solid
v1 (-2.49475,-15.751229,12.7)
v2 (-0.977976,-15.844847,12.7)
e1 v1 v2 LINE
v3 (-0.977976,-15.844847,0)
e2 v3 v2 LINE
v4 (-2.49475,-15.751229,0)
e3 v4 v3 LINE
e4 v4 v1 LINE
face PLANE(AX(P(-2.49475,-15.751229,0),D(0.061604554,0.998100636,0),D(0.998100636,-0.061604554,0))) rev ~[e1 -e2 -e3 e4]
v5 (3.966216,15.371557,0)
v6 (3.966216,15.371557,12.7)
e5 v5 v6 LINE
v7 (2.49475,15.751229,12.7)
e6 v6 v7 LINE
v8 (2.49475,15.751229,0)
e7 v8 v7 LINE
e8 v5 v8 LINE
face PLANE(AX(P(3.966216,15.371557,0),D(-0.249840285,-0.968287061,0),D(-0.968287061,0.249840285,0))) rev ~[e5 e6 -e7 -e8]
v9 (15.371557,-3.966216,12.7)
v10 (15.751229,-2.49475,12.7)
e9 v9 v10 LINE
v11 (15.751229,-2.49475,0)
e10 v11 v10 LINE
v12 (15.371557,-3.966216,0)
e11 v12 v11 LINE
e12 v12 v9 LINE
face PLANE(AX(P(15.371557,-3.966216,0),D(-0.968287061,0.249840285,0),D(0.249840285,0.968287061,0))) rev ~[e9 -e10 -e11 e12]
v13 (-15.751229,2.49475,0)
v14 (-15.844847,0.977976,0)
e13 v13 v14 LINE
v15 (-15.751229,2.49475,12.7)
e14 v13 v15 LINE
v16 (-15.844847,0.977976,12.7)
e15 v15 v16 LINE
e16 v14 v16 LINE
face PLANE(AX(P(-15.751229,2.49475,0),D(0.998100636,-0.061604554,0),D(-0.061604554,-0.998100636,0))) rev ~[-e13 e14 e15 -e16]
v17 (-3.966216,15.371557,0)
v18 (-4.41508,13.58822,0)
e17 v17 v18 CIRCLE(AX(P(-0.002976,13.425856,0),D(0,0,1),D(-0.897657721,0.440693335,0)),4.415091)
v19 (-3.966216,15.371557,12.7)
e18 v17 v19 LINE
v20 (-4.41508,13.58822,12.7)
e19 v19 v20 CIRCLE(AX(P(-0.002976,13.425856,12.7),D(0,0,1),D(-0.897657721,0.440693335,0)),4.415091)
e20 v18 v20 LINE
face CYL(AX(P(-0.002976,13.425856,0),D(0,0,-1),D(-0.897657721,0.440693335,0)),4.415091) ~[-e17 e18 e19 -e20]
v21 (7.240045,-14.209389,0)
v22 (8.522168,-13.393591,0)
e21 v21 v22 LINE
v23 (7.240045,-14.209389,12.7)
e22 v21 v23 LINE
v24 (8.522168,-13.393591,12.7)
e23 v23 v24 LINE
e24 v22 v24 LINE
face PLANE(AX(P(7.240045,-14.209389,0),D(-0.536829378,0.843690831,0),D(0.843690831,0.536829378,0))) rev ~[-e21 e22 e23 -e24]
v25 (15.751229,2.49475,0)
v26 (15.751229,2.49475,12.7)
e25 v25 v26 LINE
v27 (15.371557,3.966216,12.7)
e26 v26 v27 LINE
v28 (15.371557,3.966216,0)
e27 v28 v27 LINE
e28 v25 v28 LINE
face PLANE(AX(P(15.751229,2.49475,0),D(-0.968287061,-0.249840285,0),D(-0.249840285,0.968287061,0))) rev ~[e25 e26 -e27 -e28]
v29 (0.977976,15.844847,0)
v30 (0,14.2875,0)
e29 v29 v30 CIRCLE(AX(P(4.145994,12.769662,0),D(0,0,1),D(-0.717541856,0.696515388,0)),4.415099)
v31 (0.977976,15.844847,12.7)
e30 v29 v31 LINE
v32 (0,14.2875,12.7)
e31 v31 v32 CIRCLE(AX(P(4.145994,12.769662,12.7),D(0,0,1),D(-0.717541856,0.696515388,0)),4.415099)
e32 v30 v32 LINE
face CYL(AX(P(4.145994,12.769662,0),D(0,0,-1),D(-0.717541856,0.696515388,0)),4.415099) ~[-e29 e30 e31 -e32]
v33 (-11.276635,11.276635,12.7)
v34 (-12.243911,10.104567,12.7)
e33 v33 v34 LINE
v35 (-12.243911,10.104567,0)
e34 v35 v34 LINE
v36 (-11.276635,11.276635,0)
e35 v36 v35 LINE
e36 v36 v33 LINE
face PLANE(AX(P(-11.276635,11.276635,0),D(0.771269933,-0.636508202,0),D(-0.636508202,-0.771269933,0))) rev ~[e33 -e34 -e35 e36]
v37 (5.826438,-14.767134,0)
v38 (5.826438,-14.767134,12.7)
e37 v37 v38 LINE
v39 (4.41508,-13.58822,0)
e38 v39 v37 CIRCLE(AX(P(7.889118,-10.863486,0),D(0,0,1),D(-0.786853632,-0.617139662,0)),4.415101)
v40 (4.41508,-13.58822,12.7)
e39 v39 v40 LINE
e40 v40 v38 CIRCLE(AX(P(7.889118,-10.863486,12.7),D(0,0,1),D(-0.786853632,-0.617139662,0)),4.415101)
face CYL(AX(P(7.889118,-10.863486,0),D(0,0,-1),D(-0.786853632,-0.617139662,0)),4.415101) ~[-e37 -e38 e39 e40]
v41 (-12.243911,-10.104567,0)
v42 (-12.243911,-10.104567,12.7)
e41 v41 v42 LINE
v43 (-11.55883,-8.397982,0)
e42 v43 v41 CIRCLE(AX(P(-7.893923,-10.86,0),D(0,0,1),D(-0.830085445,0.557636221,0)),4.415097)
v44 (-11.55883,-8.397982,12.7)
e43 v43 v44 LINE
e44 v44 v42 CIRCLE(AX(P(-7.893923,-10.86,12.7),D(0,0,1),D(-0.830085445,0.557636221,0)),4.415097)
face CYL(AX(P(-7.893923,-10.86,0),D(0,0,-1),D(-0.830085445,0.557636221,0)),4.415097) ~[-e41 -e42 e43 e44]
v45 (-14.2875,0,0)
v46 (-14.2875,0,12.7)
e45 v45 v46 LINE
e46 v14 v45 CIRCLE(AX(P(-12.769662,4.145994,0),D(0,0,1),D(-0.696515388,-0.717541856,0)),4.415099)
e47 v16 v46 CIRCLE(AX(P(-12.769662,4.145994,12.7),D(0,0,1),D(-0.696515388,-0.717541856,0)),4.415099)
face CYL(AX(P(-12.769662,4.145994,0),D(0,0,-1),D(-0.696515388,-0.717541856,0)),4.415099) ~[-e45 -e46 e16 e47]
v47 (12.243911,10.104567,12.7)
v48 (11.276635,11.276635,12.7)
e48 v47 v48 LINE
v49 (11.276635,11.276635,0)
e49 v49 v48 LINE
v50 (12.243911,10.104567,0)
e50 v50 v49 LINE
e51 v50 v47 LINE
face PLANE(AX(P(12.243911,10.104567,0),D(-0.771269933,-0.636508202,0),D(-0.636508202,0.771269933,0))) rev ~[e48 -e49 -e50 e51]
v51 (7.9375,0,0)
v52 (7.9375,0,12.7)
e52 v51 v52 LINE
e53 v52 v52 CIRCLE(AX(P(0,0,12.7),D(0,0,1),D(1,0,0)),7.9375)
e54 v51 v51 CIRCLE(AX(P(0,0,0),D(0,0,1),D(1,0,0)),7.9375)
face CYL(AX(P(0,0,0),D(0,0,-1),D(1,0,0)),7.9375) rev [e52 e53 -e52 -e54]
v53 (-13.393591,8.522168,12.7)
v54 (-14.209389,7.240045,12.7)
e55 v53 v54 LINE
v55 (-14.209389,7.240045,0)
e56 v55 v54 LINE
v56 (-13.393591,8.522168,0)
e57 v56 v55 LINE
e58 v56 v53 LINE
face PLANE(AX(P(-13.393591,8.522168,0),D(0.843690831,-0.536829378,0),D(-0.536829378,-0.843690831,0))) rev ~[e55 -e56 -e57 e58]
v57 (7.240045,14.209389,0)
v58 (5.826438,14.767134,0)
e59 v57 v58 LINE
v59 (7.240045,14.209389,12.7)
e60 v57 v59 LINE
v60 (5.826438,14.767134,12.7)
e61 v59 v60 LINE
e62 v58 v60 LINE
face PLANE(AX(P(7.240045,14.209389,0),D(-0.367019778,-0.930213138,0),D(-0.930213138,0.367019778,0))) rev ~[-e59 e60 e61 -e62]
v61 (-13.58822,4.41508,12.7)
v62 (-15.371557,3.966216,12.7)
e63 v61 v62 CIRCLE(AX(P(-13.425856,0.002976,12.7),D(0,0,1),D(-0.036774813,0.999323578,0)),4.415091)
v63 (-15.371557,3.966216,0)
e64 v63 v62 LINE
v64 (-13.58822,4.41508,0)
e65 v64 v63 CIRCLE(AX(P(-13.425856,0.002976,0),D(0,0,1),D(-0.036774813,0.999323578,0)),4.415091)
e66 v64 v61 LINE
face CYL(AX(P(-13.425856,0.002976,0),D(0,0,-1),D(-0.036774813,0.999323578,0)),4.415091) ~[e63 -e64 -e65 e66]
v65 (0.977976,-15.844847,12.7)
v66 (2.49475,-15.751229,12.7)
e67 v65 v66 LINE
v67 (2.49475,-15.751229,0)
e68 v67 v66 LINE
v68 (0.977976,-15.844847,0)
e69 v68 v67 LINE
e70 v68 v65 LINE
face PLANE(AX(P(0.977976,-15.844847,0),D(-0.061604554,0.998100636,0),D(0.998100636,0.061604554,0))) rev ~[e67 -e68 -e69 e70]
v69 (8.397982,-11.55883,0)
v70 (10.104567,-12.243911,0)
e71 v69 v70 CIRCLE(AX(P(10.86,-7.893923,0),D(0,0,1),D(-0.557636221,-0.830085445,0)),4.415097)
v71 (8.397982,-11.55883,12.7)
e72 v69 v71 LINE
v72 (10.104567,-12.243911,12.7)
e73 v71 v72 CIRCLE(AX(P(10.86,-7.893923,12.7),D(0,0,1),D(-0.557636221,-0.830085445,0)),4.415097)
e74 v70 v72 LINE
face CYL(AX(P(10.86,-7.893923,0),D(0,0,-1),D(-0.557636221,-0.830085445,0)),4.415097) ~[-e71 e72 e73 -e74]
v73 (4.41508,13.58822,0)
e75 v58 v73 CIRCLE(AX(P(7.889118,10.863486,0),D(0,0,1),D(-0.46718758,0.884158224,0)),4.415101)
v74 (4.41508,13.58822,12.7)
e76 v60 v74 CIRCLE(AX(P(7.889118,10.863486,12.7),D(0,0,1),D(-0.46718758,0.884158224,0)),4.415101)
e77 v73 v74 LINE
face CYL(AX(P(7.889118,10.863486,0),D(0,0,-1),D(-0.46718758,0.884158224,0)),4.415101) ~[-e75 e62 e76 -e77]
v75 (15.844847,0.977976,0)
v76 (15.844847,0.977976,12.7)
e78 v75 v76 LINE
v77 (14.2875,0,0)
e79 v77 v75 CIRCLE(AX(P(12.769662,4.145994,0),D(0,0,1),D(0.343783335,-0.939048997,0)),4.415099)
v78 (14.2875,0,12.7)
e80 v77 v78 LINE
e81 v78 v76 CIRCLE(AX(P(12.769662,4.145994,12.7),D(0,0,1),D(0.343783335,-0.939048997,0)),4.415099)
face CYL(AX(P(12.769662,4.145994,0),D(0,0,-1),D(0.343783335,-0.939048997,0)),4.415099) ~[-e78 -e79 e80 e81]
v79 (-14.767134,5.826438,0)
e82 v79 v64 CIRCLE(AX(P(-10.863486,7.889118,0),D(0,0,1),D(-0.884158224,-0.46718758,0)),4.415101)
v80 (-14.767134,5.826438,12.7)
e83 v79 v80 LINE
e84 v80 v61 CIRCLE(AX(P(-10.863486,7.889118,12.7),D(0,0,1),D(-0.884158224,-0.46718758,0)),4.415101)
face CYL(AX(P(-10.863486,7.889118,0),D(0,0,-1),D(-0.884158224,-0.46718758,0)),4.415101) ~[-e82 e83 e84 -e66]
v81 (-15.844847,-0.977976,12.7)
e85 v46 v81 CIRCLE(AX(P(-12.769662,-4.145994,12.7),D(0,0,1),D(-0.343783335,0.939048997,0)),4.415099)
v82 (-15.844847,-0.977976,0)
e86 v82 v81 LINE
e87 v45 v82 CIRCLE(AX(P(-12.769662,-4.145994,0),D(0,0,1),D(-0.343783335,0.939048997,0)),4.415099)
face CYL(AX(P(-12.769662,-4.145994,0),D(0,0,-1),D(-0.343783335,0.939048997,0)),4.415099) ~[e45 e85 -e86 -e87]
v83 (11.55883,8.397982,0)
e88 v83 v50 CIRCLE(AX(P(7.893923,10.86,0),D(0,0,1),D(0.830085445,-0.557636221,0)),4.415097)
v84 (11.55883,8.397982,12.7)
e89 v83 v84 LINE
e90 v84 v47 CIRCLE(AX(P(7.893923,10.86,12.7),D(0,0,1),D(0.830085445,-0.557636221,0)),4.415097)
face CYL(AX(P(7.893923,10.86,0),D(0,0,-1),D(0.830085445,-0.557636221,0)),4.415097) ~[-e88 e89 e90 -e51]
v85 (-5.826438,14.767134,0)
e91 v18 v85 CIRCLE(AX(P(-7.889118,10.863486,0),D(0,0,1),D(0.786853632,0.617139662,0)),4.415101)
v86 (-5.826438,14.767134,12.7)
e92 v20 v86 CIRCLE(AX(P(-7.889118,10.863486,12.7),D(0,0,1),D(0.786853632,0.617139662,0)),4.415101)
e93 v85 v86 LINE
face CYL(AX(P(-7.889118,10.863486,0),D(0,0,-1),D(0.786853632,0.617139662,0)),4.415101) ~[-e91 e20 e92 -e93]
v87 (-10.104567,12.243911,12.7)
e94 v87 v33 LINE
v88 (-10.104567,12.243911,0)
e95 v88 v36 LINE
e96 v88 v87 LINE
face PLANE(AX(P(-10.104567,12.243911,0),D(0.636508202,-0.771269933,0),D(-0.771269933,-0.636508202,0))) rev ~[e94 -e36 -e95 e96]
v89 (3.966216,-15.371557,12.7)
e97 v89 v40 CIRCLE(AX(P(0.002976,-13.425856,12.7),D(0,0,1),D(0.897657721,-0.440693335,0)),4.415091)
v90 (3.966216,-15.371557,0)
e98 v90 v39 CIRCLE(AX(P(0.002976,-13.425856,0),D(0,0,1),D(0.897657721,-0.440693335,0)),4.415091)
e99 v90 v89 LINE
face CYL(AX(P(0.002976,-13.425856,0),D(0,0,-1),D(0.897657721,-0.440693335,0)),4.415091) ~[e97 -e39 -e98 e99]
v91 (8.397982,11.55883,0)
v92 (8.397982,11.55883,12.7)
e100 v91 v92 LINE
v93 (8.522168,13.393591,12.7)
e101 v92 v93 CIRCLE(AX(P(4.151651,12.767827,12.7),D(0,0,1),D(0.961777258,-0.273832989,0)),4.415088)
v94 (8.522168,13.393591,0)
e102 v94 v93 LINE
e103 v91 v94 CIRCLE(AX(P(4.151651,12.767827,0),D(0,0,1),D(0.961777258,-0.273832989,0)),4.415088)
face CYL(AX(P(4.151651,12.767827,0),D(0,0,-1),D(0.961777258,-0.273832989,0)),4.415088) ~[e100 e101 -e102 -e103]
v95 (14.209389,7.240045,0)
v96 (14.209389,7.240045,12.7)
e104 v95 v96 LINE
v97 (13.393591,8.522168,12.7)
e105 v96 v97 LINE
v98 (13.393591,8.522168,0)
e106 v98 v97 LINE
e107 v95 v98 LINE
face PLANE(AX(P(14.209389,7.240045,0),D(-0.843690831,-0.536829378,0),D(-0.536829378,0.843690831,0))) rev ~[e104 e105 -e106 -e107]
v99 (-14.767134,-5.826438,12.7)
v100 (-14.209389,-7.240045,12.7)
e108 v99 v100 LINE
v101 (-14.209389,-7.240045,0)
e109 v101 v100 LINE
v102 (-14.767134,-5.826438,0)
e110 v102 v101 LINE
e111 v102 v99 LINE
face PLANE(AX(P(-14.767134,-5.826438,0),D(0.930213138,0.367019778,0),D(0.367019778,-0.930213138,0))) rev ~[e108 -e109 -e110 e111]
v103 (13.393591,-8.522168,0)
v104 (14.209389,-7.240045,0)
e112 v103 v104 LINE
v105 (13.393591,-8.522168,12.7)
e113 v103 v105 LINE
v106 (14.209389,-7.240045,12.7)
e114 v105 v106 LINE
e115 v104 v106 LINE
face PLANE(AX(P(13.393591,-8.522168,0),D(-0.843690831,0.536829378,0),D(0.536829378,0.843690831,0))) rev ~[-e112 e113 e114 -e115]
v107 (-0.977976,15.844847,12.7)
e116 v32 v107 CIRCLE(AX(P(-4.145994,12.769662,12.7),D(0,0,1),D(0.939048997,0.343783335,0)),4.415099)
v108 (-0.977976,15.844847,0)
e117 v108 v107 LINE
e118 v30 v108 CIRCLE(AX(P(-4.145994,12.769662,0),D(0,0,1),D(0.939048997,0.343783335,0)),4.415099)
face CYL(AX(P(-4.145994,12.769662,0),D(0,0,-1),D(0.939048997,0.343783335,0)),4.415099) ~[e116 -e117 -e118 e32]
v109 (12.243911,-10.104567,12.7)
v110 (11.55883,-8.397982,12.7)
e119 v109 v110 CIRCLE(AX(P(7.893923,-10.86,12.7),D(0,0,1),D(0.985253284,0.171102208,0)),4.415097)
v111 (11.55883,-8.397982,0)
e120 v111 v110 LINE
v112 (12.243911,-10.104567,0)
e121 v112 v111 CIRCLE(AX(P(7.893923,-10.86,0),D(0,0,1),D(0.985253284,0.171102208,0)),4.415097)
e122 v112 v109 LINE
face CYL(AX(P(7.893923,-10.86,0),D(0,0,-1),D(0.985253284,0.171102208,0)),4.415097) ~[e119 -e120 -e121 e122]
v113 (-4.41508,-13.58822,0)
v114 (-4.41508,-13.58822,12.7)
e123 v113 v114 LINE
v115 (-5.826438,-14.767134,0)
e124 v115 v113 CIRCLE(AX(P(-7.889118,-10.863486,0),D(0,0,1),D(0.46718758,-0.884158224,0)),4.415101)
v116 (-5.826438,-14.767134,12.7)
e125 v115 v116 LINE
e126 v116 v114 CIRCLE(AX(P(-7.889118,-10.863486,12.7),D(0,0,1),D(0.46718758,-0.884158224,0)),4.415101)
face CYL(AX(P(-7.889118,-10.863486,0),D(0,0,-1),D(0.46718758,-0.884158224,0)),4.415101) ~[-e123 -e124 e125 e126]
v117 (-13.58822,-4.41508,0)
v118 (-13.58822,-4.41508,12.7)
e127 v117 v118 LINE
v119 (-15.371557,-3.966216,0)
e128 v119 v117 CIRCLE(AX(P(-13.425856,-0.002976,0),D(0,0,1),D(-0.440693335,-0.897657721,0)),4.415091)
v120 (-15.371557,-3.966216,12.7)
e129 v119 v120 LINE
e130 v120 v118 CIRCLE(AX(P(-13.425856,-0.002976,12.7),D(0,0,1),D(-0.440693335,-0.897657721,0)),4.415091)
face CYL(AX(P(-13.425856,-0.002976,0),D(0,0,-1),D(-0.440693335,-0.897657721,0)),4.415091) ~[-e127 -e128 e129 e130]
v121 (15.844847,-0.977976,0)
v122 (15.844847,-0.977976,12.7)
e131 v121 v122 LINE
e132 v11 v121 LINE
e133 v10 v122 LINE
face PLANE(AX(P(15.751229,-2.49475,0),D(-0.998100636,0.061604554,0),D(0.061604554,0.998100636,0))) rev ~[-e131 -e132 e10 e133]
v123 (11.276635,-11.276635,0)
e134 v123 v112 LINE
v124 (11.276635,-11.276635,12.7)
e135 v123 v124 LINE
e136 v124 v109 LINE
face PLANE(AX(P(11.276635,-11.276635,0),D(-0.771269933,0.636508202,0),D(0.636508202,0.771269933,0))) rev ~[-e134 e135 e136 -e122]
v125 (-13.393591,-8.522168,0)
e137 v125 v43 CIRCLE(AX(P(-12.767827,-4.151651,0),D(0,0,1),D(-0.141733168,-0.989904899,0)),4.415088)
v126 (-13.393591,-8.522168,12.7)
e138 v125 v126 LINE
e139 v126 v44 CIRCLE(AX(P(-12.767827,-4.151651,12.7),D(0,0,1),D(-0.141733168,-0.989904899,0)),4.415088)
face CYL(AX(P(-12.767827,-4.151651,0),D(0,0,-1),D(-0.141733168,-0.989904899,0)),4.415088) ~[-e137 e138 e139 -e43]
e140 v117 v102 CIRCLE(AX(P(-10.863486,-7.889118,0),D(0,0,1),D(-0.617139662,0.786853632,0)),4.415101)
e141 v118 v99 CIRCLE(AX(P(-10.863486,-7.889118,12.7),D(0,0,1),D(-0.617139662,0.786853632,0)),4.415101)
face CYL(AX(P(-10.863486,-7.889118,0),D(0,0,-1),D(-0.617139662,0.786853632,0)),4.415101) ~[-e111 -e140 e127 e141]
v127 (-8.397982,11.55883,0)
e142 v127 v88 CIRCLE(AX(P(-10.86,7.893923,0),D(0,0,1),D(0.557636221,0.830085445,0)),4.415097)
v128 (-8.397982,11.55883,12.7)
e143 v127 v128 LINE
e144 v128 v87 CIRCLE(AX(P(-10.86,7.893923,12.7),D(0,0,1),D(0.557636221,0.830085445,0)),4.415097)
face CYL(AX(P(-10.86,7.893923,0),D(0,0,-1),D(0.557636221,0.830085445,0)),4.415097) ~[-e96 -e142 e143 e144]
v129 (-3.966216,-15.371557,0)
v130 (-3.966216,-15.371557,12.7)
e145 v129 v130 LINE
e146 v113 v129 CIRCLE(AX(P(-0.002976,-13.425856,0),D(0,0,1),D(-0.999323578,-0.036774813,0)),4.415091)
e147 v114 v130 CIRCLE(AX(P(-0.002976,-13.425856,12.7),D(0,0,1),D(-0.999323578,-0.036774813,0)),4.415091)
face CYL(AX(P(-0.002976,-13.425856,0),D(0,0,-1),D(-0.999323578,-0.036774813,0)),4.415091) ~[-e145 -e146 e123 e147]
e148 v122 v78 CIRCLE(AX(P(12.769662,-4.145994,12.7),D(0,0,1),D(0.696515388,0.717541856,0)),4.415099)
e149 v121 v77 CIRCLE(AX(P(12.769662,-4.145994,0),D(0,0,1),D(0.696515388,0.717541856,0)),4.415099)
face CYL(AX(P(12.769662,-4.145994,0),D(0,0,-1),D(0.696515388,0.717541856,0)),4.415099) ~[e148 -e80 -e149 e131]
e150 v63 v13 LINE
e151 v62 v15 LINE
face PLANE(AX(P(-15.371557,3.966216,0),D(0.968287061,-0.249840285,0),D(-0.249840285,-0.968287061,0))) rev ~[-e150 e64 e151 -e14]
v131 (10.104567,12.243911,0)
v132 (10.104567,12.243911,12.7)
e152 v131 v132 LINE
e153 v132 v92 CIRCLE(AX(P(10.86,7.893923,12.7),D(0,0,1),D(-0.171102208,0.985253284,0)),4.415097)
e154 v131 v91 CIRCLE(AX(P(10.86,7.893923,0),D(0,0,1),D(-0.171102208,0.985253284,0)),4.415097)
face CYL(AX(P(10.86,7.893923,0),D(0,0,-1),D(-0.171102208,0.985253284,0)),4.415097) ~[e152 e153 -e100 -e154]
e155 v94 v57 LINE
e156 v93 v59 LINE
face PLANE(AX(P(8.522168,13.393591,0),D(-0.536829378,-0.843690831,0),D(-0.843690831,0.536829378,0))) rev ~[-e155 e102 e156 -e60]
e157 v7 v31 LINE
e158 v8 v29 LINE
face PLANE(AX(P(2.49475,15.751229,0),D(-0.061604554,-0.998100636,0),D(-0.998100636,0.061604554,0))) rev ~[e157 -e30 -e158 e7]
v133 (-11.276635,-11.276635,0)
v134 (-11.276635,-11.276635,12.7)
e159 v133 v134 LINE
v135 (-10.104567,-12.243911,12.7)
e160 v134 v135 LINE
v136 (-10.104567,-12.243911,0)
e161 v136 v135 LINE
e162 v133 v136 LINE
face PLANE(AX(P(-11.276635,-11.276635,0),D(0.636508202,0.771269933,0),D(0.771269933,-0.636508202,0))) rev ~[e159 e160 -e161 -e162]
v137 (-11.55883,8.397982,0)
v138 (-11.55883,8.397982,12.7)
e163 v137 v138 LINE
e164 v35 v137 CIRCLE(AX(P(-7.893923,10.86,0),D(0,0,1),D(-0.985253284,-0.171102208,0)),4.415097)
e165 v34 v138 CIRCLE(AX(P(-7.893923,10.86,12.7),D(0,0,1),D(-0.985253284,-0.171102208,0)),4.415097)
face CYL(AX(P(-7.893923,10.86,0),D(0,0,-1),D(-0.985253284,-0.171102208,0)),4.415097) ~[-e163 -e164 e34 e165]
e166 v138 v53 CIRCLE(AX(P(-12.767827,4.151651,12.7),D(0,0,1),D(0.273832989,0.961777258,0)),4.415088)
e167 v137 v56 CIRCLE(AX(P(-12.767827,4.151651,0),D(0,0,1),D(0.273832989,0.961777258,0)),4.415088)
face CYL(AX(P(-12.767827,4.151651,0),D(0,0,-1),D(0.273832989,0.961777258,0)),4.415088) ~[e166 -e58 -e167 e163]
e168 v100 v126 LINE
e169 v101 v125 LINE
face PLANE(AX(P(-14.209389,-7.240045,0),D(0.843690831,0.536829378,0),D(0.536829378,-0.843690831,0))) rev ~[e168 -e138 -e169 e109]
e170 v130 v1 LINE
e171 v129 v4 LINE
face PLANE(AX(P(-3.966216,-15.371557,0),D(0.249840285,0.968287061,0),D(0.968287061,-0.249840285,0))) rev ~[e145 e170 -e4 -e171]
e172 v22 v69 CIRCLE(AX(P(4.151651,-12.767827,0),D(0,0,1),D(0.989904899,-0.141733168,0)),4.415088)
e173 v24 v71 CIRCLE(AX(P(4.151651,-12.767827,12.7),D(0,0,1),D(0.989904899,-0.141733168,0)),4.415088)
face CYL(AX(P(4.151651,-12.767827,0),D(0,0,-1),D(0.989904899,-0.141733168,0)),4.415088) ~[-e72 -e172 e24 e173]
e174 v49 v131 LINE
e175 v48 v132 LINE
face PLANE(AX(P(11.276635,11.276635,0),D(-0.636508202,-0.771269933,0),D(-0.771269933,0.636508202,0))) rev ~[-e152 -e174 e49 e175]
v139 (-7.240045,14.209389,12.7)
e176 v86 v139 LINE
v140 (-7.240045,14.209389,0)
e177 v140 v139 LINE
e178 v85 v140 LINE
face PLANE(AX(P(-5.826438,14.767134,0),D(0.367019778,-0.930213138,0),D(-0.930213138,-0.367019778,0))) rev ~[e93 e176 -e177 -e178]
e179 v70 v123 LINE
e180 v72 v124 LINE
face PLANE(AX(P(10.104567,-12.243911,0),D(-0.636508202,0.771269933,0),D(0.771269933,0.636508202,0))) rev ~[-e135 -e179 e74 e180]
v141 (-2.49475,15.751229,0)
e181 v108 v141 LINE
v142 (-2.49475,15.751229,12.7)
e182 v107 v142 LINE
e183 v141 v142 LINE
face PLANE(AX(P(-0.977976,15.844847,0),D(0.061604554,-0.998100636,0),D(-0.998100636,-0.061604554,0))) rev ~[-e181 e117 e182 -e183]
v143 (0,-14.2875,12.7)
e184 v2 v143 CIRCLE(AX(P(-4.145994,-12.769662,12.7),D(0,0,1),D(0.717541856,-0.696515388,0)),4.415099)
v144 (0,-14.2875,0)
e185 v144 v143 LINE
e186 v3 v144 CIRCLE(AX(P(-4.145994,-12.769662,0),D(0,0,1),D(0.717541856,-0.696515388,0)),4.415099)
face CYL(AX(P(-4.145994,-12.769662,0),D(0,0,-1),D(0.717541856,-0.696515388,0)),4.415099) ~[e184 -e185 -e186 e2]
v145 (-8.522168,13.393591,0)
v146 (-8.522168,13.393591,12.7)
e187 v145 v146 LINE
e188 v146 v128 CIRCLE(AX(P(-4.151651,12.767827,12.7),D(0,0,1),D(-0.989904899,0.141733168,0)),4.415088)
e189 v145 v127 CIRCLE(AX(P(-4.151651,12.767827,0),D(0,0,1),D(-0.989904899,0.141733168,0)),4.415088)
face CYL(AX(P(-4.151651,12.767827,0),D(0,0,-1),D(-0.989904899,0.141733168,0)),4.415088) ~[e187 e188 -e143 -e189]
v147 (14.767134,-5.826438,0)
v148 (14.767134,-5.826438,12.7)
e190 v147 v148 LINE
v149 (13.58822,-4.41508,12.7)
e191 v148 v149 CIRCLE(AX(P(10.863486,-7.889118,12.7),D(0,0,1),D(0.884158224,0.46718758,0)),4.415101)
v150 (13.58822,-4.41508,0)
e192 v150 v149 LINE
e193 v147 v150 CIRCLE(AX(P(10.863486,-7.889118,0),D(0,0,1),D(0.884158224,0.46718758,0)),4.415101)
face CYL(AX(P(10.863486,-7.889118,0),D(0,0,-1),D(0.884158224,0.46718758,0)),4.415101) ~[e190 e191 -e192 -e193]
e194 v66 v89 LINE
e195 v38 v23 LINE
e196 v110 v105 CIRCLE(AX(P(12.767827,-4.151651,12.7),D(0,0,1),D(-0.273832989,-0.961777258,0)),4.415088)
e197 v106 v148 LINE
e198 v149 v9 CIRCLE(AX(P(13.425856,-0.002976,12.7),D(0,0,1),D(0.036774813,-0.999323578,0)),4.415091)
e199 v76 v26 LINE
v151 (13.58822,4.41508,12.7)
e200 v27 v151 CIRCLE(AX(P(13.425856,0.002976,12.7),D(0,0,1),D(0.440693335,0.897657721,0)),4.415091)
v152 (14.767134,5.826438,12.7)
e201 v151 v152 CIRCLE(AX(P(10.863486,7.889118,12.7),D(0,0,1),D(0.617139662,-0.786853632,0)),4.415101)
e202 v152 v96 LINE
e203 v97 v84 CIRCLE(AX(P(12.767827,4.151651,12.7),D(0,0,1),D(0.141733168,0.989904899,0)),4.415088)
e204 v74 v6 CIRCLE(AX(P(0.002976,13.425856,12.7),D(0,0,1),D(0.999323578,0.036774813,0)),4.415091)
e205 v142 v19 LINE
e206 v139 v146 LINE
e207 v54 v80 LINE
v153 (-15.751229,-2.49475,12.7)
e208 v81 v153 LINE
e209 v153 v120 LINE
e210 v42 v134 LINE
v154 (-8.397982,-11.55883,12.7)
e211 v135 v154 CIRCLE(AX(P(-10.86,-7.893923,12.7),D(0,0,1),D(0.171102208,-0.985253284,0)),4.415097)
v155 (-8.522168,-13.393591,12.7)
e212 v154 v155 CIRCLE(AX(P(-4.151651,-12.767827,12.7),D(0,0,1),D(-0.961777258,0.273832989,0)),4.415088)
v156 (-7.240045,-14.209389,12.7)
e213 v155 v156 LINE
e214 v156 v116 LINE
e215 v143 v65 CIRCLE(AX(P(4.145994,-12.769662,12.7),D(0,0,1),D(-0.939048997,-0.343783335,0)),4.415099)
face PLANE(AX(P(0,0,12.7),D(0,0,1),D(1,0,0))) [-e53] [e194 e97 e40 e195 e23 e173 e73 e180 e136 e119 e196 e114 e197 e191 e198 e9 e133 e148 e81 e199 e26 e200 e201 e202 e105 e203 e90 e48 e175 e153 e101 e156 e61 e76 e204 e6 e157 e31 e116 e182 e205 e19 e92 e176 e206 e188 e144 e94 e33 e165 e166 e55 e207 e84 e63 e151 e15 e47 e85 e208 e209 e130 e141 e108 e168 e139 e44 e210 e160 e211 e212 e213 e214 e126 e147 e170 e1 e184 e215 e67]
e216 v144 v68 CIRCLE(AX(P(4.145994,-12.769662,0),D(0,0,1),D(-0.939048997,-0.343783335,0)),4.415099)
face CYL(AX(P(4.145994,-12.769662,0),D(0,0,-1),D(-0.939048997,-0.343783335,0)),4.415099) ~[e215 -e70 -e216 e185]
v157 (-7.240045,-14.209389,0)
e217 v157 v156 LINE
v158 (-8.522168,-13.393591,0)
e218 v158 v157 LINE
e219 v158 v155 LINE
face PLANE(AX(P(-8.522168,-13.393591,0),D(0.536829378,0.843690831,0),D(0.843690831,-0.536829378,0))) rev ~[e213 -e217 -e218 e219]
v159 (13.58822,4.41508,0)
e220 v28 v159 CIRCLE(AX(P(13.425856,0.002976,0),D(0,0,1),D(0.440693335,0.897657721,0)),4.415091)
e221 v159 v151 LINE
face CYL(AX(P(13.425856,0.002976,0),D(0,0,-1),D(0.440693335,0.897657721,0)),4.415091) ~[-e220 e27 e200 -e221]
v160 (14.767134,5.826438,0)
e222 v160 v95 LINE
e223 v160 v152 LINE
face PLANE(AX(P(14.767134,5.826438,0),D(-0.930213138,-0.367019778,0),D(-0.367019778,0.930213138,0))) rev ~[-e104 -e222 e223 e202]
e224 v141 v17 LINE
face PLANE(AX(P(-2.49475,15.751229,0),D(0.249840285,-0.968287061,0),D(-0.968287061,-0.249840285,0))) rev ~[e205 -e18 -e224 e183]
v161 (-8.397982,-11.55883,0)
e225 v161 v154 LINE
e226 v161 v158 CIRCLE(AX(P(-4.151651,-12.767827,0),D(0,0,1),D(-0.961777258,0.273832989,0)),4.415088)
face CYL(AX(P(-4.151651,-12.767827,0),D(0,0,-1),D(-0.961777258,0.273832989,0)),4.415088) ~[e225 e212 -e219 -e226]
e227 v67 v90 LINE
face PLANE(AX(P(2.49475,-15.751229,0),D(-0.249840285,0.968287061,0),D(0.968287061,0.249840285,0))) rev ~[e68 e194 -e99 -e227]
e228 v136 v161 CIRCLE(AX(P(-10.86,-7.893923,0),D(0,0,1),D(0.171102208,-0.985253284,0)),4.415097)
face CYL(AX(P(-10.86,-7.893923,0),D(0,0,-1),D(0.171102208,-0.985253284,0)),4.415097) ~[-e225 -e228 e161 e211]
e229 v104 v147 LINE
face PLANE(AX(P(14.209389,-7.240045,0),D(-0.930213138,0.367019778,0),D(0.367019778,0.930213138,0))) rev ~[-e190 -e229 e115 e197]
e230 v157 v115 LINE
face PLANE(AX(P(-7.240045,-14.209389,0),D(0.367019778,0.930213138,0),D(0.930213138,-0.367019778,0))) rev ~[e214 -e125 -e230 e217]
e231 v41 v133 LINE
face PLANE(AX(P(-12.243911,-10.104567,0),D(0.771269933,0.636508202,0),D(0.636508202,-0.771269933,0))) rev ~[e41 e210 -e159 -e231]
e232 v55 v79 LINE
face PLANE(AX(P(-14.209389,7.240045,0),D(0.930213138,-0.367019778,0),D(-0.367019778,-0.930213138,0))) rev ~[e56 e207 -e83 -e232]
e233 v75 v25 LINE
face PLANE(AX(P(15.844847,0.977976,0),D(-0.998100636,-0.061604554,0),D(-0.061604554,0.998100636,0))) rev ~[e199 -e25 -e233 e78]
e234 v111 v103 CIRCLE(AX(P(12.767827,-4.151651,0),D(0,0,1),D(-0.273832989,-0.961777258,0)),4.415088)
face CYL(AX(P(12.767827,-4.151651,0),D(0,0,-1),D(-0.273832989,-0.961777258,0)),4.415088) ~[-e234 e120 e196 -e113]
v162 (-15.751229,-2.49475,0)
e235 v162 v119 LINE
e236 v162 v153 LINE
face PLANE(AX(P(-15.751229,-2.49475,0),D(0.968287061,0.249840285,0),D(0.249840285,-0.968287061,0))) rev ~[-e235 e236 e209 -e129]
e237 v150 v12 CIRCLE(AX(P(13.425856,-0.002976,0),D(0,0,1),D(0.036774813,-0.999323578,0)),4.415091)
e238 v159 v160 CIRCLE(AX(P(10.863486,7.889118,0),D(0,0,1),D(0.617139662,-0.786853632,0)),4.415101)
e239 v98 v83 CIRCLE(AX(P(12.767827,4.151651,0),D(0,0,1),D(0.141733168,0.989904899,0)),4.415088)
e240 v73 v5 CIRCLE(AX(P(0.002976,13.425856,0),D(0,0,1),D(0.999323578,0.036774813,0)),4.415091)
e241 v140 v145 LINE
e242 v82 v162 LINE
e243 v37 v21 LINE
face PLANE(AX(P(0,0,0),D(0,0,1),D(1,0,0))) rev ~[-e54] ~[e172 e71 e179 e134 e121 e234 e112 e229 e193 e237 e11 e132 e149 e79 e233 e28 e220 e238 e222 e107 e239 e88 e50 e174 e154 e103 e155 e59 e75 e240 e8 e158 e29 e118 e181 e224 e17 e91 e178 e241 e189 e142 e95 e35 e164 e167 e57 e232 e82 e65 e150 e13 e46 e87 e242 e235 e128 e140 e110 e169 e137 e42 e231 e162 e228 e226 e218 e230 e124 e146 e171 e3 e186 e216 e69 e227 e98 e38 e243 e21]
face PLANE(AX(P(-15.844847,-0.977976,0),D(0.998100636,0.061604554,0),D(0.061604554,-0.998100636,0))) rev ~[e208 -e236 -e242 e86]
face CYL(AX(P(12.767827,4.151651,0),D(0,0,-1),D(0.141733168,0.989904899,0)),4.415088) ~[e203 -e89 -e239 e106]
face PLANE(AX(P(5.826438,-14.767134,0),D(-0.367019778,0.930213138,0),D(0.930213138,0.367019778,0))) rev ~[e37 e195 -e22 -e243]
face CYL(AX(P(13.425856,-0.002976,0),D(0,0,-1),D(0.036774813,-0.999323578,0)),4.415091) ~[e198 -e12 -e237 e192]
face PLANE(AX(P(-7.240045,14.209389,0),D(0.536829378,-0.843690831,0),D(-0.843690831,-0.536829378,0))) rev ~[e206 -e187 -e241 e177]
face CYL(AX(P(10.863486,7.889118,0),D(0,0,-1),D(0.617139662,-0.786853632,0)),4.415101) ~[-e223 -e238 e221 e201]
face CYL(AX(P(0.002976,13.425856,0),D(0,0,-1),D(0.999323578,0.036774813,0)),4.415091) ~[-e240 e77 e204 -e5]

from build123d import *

# Parameters (mm, degrees)
F0_R     = 7.9375
F1_DEPTH = 12.7


with BuildPart() as f1:
    # F0 (on Top) → F1 (new body)
    with BuildSketch(Plane.XY):
        with BuildLine():
            ThreePointArc((0.977976, 15.844847), (0.407007, 15.117656), (0, 14.2875))
            ThreePointArc((0, 14.2875), (-0.407007, 15.117656), (-0.977976, 15.844847))
            Line((-0.977976, 15.844847), (-2.49475, 15.751229))
            Line((-2.49475, 15.751229), (-3.966216, 15.371557))
            ThreePointArc((-3.966216, 15.371557), (-4.284526, 14.503517), (-4.41508, 13.58822))
            ThreePointArc((-4.41508, 13.58822), (-5.058699, 14.251973), (-5.826438, 14.767134))
            Line((-5.826438, 14.767134), (-7.240045, 14.209389))
            Line((-7.240045, 14.209389), (-8.522168, 13.393591))
            ThreePointArc((-8.522168, 13.393591), (-8.55666, 12.469673), (-8.397982, 11.55883))
            ThreePointArc((-8.397982, 11.55883), (-9.215211, 11.991208), (-10.104567, 12.243911))
            Line((-10.104567, 12.243911), (-11.276635, 11.276635))
            Line((-11.276635, 11.276635), (-12.243911, 10.104567))
            ThreePointArc((-12.243911, 10.104567), (-11.991208, 9.215211), (-11.55883, 8.397982))
            ThreePointArc((-11.55883, 8.397982), (-12.469673, 8.55666), (-13.393591, 8.522168))
            Line((-13.393591, 8.522168), (-14.209389, 7.240045))
            Line((-14.209389, 7.240045), (-14.767134, 5.826438))
            ThreePointArc((-14.767134, 5.826438), (-14.251973, 5.058699), (-13.58822, 4.41508))
            ThreePointArc((-13.58822, 4.41508), (-14.503517, 4.284526), (-15.371557, 3.966216))
            Line((-15.371557, 3.966216), (-15.751229, 2.49475))
            Line((-15.751229, 2.49475), (-15.844847, 0.977976))
            ThreePointArc((-15.844847, 0.977976), (-15.117656, 0.407007), (-14.2875, 0))
            ThreePointArc((-14.2875, 0), (-15.117656, -0.407007), (-15.844847, -0.977976))
            Line((-15.844847, -0.977976), (-15.751229, -2.49475))
            Line((-15.751229, -2.49475), (-15.371557, -3.966216))
            ThreePointArc((-15.371557, -3.966216), (-14.503517, -4.284526), (-13.58822, -4.41508))
            ThreePointArc((-13.58822, -4.41508), (-14.251973, -5.058699), (-14.767134, -5.826438))
            Line((-14.767134, -5.826438), (-14.209389, -7.240045))
            Line((-14.209389, -7.240045), (-13.393591, -8.522168))
            ThreePointArc((-13.393591, -8.522168), (-12.469673, -8.55666), (-11.55883, -8.397982))
            ThreePointArc((-11.55883, -8.397982), (-11.991208, -9.215211), (-12.243911, -10.104567))
            Line((-12.243911, -10.104567), (-11.276635, -11.276635))
            Line((-11.276635, -11.276635), (-10.104567, -12.243911))
            ThreePointArc((-10.104567, -12.243911), (-9.215211, -11.991208), (-8.397982, -11.55883))
            ThreePointArc((-8.397982, -11.55883), (-8.55666, -12.469673), (-8.522168, -13.393591))
            Line((-8.522168, -13.393591), (-7.240045, -14.209389))
            Line((-7.240045, -14.209389), (-5.826438, -14.767134))
            ThreePointArc((-5.826438, -14.767134), (-5.058699, -14.251973), (-4.41508, -13.58822))
            ThreePointArc((-4.41508, -13.58822), (-4.284526, -14.503517), (-3.966216, -15.371557))
            Line((-3.966216, -15.371557), (-2.49475, -15.751229))
            Line((-2.49475, -15.751229), (-0.977976, -15.844847))
            ThreePointArc((-0.977976, -15.844847), (-0.407007, -15.117656), (0, -14.2875))
            ThreePointArc((0, -14.2875), (0.407007, -15.117656), (0.977976, -15.844847))
            Line((0.977976, -15.844847), (2.49475, -15.751229))
            Line((2.49475, -15.751229), (3.966216, -15.371557))
            ThreePointArc((3.966216, -15.371557), (4.284526, -14.503517), (4.41508, -13.58822))
            ThreePointArc((4.41508, -13.58822), (5.058699, -14.251973), (5.826438, -14.767134))
            Line((5.826438, -14.767134), (7.240045, -14.209389))
            Line((7.240045, -14.209389), (8.522168, -13.393591))
            ThreePointArc((8.522168, -13.393591), (8.55666, -12.469673), (8.397982, -11.55883))
            ThreePointArc((8.397982, -11.55883), (9.215211, -11.991208), (10.104567, -12.243911))
            Line((10.104567, -12.243911), (11.276635, -11.276635))
            Line((11.276635, -11.276635), (12.243911, -10.104567))
            ThreePointArc((12.243911, -10.104567), (11.991208, -9.215211), (11.55883, -8.397982))
            ThreePointArc((11.55883, -8.397982), (12.469673, -8.55666), (13.393591, -8.522168))
            Line((13.393591, -8.522168), (14.209389, -7.240045))
            Line((14.209389, -7.240045), (14.767134, -5.826438))
            ThreePointArc((14.767134, -5.826438), (14.251973, -5.058699), (13.58822, -4.41508))
            ThreePointArc((13.58822, -4.41508), (14.503517, -4.284526), (15.371557, -3.966216))
            Line((15.371557, -3.966216), (15.751229, -2.49475))
            Line((15.751229, -2.49475), (15.844847, -0.977976))
            ThreePointArc((15.844847, -0.977976), (15.117656, -0.407007), (14.2875, 0))
            ThreePointArc((14.2875, 0), (15.117656, 0.407007), (15.844847, 0.977976))
            Line((15.844847, 0.977976), (15.751229, 2.49475))
            Line((15.751229, 2.49475), (15.371557, 3.966216))
            ThreePointArc((15.371557, 3.966216), (14.503517, 4.284526), (13.58822, 4.41508))
            ThreePointArc((13.58822, 4.41508), (14.251973, 5.058699), (14.767134, 5.826438))
            Line((14.767134, 5.826438), (14.209389, 7.240045))
            Line((14.209389, 7.240045), (13.393591, 8.522168))
            ThreePointArc((13.393591, 8.522168), (12.469673, 8.55666), (11.55883, 8.397982))
            ThreePointArc((11.55883, 8.397982), (11.991208, 9.215211), (12.243911, 10.104567))
            Line((12.243911, 10.104567), (11.276635, 11.276635))
            Line((11.276635, 11.276635), (10.104567, 12.243911))
            ThreePointArc((10.104567, 12.243911), (9.215211, 11.991208), (8.397982, 11.55883))
            ThreePointArc((8.397982, 11.55883), (8.55666, 12.469673), (8.522168, 13.393591))
            Line((8.522168, 13.393591), (7.240045, 14.209389))
            Line((7.240045, 14.209389), (5.826438, 14.767134))
            ThreePointArc((5.826438, 14.767134), (5.058699, 14.251973), (4.41508, 13.58822))
            ThreePointArc((4.41508, 13.58822), (4.284526, 14.503517), (3.966216, 15.371557))
            Line((3.966216, 15.371557), (2.49475, 15.751229))
            Line((2.49475, 15.751229), (0.977976, 15.844847))
        make_face()
        Circle(F0_R, mode=Mode.SUBTRACT)
    extrude(amount=F1_DEPTH)


solid = f1.part
